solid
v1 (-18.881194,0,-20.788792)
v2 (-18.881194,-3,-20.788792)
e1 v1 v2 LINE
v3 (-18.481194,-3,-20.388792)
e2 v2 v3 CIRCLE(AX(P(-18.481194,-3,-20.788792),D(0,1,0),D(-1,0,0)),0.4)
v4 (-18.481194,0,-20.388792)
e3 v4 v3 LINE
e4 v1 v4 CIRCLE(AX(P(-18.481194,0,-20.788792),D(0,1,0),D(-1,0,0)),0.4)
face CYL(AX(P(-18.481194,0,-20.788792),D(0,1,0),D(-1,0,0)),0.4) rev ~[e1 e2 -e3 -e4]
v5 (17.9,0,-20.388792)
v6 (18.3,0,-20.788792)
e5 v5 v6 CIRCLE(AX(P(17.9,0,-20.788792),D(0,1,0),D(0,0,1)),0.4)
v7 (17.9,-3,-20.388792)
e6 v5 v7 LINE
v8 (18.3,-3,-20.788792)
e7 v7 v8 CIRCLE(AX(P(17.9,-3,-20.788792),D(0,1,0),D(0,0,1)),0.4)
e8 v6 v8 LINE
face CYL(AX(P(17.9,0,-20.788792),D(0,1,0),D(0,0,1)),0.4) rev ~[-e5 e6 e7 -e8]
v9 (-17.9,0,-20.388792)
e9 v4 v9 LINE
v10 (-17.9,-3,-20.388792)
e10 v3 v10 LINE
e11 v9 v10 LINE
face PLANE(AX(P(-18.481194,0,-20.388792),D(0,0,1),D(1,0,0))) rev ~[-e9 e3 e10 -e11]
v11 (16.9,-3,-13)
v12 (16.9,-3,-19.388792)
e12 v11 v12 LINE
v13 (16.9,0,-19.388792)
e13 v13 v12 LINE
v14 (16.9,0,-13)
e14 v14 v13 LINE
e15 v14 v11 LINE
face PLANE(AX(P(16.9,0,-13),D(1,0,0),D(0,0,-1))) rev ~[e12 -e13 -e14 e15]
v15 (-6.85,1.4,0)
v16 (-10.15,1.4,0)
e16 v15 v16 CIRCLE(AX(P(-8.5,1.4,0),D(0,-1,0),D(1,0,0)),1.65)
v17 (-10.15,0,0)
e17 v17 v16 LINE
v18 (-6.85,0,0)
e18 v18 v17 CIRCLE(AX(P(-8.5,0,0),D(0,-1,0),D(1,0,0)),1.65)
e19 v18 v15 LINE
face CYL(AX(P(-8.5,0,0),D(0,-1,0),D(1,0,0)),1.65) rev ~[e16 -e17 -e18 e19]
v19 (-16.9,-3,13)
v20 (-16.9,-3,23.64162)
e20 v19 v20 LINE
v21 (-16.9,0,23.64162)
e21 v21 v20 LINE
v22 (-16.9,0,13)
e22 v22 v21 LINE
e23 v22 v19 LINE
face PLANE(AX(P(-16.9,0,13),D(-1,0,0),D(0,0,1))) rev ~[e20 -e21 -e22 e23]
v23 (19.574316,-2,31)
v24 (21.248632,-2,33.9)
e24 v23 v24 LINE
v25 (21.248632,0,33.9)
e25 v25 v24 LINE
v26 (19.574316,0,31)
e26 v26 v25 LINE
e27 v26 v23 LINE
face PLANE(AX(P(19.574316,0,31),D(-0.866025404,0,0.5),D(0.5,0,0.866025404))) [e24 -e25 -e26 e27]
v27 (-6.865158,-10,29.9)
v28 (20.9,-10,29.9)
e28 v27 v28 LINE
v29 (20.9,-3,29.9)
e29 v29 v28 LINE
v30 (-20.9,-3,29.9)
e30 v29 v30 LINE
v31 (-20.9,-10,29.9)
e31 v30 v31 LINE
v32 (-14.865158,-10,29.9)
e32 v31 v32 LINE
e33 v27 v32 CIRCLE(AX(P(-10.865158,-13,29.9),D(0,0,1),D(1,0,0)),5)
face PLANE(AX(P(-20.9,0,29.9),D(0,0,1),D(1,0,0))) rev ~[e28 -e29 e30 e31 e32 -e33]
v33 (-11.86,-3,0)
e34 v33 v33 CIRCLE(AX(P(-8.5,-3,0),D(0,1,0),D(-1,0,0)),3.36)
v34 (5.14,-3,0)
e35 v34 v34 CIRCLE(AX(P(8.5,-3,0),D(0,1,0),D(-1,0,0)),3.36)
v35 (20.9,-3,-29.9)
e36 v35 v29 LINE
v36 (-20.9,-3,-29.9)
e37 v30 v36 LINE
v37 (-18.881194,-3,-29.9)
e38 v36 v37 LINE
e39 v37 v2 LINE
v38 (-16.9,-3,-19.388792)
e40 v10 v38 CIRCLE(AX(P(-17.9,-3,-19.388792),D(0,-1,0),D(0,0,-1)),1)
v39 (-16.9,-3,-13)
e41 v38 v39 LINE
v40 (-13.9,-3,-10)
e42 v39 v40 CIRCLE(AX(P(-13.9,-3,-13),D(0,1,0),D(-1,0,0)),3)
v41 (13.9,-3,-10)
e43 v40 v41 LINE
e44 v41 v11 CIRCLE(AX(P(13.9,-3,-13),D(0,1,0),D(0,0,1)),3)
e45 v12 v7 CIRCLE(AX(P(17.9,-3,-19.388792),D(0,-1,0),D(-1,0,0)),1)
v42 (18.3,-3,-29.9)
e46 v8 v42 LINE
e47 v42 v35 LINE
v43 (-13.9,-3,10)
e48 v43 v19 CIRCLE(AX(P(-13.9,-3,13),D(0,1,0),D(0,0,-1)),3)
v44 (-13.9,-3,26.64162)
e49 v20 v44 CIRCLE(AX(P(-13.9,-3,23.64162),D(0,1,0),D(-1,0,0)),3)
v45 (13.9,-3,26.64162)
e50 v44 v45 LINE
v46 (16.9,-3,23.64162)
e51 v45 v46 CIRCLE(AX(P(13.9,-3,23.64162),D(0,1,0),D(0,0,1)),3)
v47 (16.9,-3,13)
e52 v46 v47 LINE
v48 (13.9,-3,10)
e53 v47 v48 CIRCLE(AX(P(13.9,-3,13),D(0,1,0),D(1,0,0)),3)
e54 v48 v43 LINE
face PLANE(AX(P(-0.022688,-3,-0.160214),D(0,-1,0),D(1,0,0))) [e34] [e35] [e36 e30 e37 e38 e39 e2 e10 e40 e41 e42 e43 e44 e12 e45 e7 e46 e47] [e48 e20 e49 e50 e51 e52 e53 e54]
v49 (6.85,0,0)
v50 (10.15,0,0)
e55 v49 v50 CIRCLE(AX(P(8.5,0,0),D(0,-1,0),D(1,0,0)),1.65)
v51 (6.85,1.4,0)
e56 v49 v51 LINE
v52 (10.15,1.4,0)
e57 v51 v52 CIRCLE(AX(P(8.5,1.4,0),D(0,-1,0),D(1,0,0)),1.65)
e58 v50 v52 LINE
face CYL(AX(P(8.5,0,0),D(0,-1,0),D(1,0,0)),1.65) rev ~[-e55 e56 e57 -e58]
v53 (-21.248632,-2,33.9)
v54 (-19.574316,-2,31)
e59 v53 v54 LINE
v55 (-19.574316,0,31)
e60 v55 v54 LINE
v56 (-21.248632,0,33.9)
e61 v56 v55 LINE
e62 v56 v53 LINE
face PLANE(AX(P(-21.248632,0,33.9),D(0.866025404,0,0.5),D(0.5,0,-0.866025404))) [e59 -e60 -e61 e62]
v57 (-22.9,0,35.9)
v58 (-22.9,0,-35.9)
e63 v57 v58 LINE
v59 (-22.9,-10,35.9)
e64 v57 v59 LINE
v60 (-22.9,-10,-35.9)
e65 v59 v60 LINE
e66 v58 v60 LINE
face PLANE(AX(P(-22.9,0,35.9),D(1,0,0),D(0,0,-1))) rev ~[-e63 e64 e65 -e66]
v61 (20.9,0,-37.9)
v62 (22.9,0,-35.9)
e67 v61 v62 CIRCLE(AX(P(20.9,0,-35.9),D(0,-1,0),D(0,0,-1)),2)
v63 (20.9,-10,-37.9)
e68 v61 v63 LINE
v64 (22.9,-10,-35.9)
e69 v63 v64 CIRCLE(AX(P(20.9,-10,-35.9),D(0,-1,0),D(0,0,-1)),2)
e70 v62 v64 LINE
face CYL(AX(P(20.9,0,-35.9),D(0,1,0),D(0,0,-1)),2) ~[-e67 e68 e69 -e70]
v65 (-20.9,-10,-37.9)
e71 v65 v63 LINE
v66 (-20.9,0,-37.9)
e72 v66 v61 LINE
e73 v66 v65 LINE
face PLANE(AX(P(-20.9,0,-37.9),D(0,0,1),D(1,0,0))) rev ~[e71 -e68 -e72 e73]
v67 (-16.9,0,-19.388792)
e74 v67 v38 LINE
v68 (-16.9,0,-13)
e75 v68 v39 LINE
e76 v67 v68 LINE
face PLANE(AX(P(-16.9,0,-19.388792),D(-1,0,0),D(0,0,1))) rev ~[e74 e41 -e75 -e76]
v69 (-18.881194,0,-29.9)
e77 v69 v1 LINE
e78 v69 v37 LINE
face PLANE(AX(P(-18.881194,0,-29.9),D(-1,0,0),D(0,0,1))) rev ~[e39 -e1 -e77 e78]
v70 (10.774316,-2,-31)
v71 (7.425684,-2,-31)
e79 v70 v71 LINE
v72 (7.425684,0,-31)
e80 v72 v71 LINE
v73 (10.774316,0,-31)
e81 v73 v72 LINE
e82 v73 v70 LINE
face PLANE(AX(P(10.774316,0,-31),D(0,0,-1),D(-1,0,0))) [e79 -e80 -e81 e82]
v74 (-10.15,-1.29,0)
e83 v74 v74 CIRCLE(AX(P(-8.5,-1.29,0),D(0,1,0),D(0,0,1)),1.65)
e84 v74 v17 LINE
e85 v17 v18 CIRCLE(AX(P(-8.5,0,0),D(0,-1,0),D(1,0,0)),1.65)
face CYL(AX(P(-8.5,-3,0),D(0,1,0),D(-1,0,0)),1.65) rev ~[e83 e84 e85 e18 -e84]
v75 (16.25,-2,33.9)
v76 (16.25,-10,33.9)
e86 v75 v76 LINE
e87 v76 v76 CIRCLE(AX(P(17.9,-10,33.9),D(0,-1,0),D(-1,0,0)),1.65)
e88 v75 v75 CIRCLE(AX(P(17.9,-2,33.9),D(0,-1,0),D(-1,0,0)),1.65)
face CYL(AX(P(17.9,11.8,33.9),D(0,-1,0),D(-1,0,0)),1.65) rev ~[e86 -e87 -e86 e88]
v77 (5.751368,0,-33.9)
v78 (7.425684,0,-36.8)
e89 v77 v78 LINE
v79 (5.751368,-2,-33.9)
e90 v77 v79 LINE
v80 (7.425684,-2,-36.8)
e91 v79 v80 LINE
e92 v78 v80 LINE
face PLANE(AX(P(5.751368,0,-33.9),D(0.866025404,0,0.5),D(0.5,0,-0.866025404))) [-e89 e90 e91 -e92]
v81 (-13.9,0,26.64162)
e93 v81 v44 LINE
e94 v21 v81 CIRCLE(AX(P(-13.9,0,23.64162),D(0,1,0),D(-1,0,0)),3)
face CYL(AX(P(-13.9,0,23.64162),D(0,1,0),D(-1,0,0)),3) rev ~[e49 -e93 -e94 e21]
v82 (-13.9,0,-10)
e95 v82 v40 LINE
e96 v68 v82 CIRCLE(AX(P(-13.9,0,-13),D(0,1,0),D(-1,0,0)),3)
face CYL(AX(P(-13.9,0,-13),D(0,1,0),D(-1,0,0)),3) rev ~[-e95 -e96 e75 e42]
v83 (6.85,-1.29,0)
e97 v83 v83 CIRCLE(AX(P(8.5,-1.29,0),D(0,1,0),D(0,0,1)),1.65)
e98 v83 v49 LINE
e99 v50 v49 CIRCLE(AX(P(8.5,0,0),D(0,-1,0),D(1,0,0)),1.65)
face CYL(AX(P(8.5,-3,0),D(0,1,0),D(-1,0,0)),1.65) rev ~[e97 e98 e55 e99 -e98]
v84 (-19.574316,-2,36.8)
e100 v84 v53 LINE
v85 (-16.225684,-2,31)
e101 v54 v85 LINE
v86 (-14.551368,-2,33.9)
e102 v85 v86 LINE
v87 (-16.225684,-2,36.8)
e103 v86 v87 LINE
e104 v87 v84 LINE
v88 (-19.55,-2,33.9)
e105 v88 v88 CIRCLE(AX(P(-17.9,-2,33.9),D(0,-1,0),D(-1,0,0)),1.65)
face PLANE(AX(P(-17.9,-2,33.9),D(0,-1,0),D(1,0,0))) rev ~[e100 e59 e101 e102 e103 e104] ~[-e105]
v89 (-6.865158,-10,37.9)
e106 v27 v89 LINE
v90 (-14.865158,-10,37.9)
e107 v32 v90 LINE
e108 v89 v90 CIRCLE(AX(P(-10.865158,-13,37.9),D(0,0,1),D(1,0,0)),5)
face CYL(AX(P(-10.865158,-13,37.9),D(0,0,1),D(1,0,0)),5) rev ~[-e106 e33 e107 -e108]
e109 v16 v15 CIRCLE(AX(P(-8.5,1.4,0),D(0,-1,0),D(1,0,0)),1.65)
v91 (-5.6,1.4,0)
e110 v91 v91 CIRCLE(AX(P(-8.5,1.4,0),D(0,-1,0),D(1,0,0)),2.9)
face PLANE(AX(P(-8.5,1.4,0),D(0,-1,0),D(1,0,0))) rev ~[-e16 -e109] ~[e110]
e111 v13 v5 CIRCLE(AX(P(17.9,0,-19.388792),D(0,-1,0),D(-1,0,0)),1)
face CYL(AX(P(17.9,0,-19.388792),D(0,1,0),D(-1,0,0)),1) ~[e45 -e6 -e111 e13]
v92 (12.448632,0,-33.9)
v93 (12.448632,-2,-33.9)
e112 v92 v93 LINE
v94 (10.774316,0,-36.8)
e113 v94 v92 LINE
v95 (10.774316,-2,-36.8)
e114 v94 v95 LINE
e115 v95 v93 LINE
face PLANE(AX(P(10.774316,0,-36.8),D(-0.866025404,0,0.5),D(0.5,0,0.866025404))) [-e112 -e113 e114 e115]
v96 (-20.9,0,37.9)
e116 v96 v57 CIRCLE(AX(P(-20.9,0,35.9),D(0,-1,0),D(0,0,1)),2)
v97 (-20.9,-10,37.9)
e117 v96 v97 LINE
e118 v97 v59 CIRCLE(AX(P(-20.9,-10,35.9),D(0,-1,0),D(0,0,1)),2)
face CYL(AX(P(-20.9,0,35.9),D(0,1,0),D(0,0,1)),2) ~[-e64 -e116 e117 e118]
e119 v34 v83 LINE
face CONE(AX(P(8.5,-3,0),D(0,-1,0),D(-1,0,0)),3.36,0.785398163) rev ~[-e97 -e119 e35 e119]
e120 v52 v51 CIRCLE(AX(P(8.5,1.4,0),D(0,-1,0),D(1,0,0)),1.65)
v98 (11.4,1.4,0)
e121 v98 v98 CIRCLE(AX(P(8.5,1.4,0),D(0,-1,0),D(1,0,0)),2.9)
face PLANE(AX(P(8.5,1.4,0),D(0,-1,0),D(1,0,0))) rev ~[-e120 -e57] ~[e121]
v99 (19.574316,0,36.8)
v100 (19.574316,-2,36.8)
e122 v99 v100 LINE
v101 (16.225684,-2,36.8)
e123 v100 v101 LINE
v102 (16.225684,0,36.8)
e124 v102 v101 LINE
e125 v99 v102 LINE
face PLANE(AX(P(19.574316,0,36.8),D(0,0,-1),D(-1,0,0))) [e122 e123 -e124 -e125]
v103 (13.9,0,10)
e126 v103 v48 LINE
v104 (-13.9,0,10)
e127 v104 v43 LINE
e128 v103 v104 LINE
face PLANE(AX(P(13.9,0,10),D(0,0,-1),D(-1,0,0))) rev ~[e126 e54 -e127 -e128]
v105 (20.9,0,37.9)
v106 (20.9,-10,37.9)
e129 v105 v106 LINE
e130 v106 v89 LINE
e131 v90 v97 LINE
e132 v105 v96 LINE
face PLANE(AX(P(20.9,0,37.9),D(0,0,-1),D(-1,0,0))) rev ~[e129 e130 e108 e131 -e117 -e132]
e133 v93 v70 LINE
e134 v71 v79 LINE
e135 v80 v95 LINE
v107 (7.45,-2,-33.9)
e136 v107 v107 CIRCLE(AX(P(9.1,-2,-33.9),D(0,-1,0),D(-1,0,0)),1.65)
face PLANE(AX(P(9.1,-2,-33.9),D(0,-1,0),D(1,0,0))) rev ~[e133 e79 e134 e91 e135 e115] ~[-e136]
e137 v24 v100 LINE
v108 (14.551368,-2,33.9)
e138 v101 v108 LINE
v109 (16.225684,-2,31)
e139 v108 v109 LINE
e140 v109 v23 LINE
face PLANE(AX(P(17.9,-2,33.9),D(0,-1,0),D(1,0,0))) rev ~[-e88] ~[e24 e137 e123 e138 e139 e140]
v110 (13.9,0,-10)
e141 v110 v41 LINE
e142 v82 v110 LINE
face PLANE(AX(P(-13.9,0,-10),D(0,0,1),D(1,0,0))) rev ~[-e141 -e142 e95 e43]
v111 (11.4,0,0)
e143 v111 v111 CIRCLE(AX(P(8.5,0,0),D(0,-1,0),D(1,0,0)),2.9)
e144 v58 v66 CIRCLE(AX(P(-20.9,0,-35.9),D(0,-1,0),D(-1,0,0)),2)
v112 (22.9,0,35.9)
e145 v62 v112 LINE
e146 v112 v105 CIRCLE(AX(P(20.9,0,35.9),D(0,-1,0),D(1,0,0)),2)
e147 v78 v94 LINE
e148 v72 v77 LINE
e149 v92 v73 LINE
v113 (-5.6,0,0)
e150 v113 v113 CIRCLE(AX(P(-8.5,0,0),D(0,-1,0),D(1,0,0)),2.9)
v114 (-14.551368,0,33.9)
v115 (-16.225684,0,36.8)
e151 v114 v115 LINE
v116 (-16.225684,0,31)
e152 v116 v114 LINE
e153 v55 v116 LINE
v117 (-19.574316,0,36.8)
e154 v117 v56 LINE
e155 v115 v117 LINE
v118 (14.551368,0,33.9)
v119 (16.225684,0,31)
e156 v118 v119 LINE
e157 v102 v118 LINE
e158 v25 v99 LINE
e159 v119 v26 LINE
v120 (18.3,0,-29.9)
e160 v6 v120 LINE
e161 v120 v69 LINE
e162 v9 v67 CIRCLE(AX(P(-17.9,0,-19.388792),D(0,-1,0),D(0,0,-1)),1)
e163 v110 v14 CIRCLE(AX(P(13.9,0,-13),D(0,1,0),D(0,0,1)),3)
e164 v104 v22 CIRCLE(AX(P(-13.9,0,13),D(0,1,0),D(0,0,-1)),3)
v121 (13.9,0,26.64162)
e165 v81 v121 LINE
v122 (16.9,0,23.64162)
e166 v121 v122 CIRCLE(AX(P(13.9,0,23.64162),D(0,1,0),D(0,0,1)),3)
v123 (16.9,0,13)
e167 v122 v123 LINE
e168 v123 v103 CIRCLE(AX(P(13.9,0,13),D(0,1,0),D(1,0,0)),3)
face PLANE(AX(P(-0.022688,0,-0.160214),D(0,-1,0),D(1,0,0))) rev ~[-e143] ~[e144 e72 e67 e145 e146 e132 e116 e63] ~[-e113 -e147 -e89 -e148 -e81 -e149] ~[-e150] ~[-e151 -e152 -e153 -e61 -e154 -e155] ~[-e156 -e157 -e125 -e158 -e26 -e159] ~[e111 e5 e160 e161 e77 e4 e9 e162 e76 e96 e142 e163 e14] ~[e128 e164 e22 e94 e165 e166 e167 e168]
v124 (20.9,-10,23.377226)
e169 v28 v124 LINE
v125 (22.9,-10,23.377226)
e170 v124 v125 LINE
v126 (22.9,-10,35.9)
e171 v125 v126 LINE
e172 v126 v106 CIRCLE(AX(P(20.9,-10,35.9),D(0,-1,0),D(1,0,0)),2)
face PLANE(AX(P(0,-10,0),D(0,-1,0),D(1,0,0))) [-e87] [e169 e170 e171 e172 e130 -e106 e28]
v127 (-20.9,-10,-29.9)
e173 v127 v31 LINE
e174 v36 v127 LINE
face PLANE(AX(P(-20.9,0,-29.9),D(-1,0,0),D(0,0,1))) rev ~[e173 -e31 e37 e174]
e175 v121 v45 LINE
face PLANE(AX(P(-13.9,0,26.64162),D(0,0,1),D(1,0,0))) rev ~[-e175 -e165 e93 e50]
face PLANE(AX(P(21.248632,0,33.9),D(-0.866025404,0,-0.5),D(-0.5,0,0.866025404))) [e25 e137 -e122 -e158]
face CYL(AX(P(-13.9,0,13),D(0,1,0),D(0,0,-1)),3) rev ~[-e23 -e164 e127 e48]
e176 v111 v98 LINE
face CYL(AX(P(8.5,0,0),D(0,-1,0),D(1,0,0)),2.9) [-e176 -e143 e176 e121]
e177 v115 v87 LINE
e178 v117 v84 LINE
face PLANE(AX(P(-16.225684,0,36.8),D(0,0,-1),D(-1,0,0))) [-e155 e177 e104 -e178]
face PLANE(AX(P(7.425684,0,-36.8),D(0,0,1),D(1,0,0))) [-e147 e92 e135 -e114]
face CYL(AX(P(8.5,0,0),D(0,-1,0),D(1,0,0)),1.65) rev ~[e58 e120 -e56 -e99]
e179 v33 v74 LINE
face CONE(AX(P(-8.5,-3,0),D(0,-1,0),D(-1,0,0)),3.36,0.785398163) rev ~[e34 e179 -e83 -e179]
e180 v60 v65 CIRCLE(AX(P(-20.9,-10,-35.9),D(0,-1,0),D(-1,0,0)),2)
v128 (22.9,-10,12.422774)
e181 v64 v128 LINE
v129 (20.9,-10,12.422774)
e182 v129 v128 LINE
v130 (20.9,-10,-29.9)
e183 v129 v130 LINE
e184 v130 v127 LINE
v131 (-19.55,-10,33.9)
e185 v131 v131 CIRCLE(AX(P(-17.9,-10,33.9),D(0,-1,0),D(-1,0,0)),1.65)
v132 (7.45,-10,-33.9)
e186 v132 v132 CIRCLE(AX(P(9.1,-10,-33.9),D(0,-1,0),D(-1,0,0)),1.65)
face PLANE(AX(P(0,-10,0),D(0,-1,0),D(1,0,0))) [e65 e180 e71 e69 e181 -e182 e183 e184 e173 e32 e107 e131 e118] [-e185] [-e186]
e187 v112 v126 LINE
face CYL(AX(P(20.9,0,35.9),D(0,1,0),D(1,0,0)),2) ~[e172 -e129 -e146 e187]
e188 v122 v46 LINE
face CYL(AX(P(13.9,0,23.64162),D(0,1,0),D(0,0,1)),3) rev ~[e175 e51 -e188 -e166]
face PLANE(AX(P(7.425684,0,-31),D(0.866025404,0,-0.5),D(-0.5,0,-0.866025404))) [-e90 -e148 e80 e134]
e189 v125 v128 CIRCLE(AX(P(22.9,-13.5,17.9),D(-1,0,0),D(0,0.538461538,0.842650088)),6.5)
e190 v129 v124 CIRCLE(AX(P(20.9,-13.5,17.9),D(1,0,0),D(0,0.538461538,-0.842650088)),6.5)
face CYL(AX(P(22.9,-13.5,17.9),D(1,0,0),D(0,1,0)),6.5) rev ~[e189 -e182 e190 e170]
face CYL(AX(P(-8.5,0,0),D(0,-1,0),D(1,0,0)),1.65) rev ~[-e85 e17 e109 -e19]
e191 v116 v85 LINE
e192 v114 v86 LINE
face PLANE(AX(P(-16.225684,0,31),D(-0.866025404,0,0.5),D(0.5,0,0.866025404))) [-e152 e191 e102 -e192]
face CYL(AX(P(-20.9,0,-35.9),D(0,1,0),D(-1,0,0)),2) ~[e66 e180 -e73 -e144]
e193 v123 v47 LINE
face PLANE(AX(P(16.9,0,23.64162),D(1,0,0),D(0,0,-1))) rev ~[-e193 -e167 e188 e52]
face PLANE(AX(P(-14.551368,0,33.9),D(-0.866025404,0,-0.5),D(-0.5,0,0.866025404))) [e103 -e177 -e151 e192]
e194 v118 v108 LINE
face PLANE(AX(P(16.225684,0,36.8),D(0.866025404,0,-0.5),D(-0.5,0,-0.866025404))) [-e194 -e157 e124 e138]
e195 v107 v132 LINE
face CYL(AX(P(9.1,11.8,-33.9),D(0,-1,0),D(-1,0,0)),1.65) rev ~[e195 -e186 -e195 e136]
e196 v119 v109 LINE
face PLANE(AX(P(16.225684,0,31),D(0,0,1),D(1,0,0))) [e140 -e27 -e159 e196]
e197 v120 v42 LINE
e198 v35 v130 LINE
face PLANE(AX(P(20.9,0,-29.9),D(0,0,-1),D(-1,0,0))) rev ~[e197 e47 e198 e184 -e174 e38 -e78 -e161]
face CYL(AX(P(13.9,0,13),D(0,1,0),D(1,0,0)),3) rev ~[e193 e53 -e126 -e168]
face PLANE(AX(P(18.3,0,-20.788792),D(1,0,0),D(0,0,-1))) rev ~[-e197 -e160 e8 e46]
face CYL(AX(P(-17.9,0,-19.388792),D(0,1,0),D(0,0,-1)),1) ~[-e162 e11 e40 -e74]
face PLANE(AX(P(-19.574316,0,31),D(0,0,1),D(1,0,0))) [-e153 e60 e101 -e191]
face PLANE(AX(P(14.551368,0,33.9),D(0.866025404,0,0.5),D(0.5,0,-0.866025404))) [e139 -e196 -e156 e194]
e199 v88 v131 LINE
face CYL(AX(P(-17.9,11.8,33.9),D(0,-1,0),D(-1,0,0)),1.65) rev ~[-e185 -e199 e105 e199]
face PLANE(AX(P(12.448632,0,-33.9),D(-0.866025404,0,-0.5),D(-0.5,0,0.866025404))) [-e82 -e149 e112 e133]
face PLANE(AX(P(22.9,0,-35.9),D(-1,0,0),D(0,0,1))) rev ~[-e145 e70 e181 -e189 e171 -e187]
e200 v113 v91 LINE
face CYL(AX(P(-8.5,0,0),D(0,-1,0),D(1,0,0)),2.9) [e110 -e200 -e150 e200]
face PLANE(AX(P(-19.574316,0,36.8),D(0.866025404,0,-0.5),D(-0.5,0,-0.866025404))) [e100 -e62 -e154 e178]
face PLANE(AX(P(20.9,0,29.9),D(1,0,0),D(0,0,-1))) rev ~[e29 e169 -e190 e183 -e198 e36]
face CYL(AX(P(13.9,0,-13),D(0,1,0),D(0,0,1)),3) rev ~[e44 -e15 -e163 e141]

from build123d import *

# Parameters (mm, degrees)
F1_DEPTH        = 10
F0_R            = 2.9
F2_DEPTH        = 3
F3_R            = 6.5
F4_DEPTH        = 4
F5_R            = 5
F6_DEPTH        = 12
F7_DEPTH        = 2
F8_D            = 3.3
F8_DEPTH        = 13.8
F8_START        = 2
F8_TIP          = 0.9914200214
F9_DEPTH        = 1.4
F10_D           = 3.3
F10_DEPTH       = 8
F10_TIP         = 0.9914200214
F12_D           = 3.3
F12_DEPTH       = 8
F12_CSINK_D     = 6.72
F12_CSINK_ANGLE = 90
F12_TIP         = 0.9914200214


with BuildPart() as f1:
    # F0 (on Front) → F1 (new body)
    with BuildSketch(Plane.XZ):
        with BuildLine():
            Line((20.9, 37.9), (17.9, 37.9))
            Line((17.9, 37.9), (-17.9, 37.9))
            Line((-17.9, 37.9), (-20.9, 37.9))
            ThreePointArc((-20.9, 37.9), (-22.3142135624, 37.3142135624), (-22.9, 35.9))
            Line((-22.9, 35.9), (-22.9, 32.9))
            Line((-22.9, 32.9), (-22.9, -35.9))
            ThreePointArc((-22.9, -35.9), (-22.3142135624, -37.3142135624), (-20.9, -37.9))
            Line((-20.9, -37.9), (20.9, -37.9))
            ThreePointArc((20.9, -37.9), (22.3142135624, -37.3142135624), (22.9, -35.9))
            Line((22.9, -35.9), (22.9, 32.9))
            Line((22.9, 32.9), (22.9, 35.9))
            ThreePointArc((22.9, 35.9), (22.3142135624, 37.3142135624), (20.9, 37.9))
        make_face()
        Polygon((7.4256842194, -31), (10.7743157806, -31), (12.4486315613, -33.9), (10.7743157806, -36.8), (7.4256842194, -36.8), (5.7513684387, -33.9), align=None, mode=Mode.SUBTRACT)
        Polygon((-16.2256842194, 36.8), (-14.5513684387, 33.9), (-16.2256842194, 31), (-19.5743157806, 31), (-21.2486315613, 33.9), (-19.5743157806, 36.8), align=None, mode=Mode.SUBTRACT)
        Polygon((20.9, 29.9), (20.9, -29.9), (18.3, -29.9), (-18.8811943151, -29.9), (-20.9, -29.9), (-20.9, 29.9), align=None, mode=Mode.SUBTRACT)
        Polygon((21.2486315613, 33.9), (19.5743157806, 31), (16.2256842194, 31), (14.5513684387, 33.9), (16.2256842194, 36.8), (19.5743157806, 36.8), align=None, mode=Mode.SUBTRACT)
        Polygon((-16.2256842194, 31), (-14.5513684387, 33.9), (-16.2256842194, 36.8), (-19.5743157806, 36.8), (-21.2486315613, 33.9), (-19.5743157806, 31), align=None)
        Polygon((16.2256842194, 31), (19.5743157806, 31), (21.2486315613, 33.9), (19.5743157806, 36.8), (16.2256842194, 36.8), (14.5513684387, 33.9), align=None)
        Polygon((12.4486315613, -33.9), (10.7743157806, -31), (7.4256842194, -31), (5.7513684387, -33.9), (7.4256842194, -36.8), (10.7743157806, -36.8), align=None)
    extrude(amount=F1_DEPTH)

    # F0 (on Front) → F2 (join)
    with BuildSketch(Plane.XZ):
        with BuildLine():
            Line((18.3, -29.9), (20.9, -29.9))
            Line((20.9, -29.9), (20.9, 29.9))
            Line((20.9, 29.9), (-20.9, 29.9))
            Line((-20.9, 29.9), (-20.9, -29.9))
            Line((-20.9, -29.9), (-18.8811943151, -29.9))
            Line((-18.8811943151, -29.9), (-18.8811943151, -20.7887917079))
            ThreePointArc((-18.8811943151, -20.7887917079), (-18.7640370276, -20.5059489954), (-18.4811943151, -20.3887917079))
            Line((-18.4811943151, -20.3887917079), (-17.9, -20.3887917079))
            ThreePointArc((-17.9, -20.3887917079), (-17.1928932188, -20.0958984891), (-16.9, -19.3887917079))
            Line((-16.9, -19.3887917079), (-16.9, -13))
            ThreePointArc((-16.9, -13), (-16.0213203436, -10.8786796564), (-13.9, -10))
            Line((-13.9, -10), (13.9, -10))
            ThreePointArc((13.9, -10), (16.0213203436, -10.8786796564), (16.9, -13))
            Line((16.9, -13), (16.9, -19.3887917079))
            ThreePointArc((16.9, -19.3887917079), (17.1928932188, -20.0958984891), (17.9, -20.3887917079))
            ThreePointArc((17.9, -20.3887917079), (18.1828427125, -20.5059489954), (18.3, -20.7887917079))
            Line((18.3, -20.7887917079), (18.3, -29.9))
        make_face()
        with Locations((-8.5, 0)):
            Circle(F0_R, mode=Mode.SUBTRACT)
        with Locations((8.5, 0)):
            Circle(F0_R, mode=Mode.SUBTRACT)
        with BuildLine():
            ThreePointArc((-16.9, 23.6416198403), (-16.0213203436, 25.7629401838), (-13.9, 26.6416198403))
            Line((-13.9, 26.6416198403), (13.9, 26.6416198403))
            ThreePointArc((13.9, 26.6416198403), (16.0213203436, 25.7629401838), (16.9, 23.6416198403))
            Line((16.9, 23.6416198403), (16.9, 13))
            ThreePointArc((16.9, 13), (16.0213203436, 10.8786796564), (13.9, 10))
            Line((13.9, 10), (-13.9, 10))
            ThreePointArc((-13.9, 10), (-16.0213203436, 10.8786796564), (-16.9, 13))
            Line((-16.9, 13), (-16.9, 23.6416198403))
        make_face(mode=Mode.SUBTRACT)
        with Locations((-8.5, 0)):
            Circle(F0_R)
        with Locations((8.5, 0)):
            Circle(F0_R)
    extrude(amount=F2_DEPTH)

    # F3 (on face) → F4 (cut)
    with BuildSketch(Plane.YZ.offset(22.9)):
        with Locations((-13.5, 17.9)):
            Circle(F3_R)
    extrude(amount=-F4_DEPTH, mode=Mode.SUBTRACT)

    # F5 (on face) → F6 (cut)
    with BuildSketch(Plane.XY.offset(37.9)):
        with Locations((-10.8651584014, -13)):
            Circle(F5_R)
    extrude(amount=-F6_DEPTH, mode=Mode.SUBTRACT)

    # F0 (on Front) → F7 (cut)
    with BuildSketch(Plane.XZ):
        Polygon((-16.2256842194, 31), (-14.5513684387, 33.9), (-16.2256842194, 36.8), (-19.5743157806, 36.8), (-21.2486315613, 33.9), (-19.5743157806, 31), align=None)
        Polygon((16.2256842194, 31), (19.5743157806, 31), (21.2486315613, 33.9), (19.5743157806, 36.8), (16.2256842194, 36.8), (14.5513684387, 33.9), align=None)
        Polygon((12.4486315613, -33.9), (10.7743157806, -31), (7.4256842194, -31), (5.7513684387, -33.9), (7.4256842194, -36.8), (10.7743157806, -36.8), align=None)
    extrude(amount=F7_DEPTH, mode=Mode.SUBTRACT)

    # F8
    # its depths count from where the whole tool has entered the part; down to there all is cleared
    with Locations(Plane(origin=(0, 0, 0), x_dir=(1, 0, 0), z_dir=(0, 1, 0)).offset(-F8_START)):
        with Locations((-17.9, -33.9), (17.9, -33.9), (9.1, 33.9)):
            Hole(F8_D / 2, depth=F8_DEPTH)
            with Locations((0, 0, -(F8_DEPTH + F8_TIP / 2))):  # 118° drill point
                Cone(0, F8_D / 2, F8_TIP, mode=Mode.SUBTRACT)

    # F0 (on Front) → F9 (join)
    with BuildSketch(Plane.XZ):
        with Locations((8.5, 0)):
            Circle(F0_R)
        with Locations((-8.5, 0)):
            Circle(F0_R)
    extrude(amount=-F9_DEPTH)

    # F10 (one way)
    with BuildSketch(Plane.XZ):
        with Locations((-8.5, 0), (8.5, 0)):
            Circle(F10_D / 2)
    extrude(amount=-F10_DEPTH, mode=Mode.SUBTRACT)
    with Locations(Plane.XZ):
        with Locations((-8.5, 0), (8.5, 0)):
            with Locations((0, 0, -(F10_DEPTH + F10_TIP / 2))):  # 118° drill point
                Cone(0, F10_D / 2, F10_TIP, mode=Mode.SUBTRACT)

    # F12
    with Locations(Plane.XZ.offset(3)):
        with Locations((-8.5, 0), (8.5, 0)):
            CounterSinkHole(F12_D / 2, F12_CSINK_D / 2, depth=F12_DEPTH, counter_sink_angle=F12_CSINK_ANGLE)
            with Locations((0, 0, -(F12_DEPTH + F12_TIP / 2))):  # 118° drill point
                Cone(0, F12_D / 2, F12_TIP, mode=Mode.SUBTRACT)


solid = f1.part
